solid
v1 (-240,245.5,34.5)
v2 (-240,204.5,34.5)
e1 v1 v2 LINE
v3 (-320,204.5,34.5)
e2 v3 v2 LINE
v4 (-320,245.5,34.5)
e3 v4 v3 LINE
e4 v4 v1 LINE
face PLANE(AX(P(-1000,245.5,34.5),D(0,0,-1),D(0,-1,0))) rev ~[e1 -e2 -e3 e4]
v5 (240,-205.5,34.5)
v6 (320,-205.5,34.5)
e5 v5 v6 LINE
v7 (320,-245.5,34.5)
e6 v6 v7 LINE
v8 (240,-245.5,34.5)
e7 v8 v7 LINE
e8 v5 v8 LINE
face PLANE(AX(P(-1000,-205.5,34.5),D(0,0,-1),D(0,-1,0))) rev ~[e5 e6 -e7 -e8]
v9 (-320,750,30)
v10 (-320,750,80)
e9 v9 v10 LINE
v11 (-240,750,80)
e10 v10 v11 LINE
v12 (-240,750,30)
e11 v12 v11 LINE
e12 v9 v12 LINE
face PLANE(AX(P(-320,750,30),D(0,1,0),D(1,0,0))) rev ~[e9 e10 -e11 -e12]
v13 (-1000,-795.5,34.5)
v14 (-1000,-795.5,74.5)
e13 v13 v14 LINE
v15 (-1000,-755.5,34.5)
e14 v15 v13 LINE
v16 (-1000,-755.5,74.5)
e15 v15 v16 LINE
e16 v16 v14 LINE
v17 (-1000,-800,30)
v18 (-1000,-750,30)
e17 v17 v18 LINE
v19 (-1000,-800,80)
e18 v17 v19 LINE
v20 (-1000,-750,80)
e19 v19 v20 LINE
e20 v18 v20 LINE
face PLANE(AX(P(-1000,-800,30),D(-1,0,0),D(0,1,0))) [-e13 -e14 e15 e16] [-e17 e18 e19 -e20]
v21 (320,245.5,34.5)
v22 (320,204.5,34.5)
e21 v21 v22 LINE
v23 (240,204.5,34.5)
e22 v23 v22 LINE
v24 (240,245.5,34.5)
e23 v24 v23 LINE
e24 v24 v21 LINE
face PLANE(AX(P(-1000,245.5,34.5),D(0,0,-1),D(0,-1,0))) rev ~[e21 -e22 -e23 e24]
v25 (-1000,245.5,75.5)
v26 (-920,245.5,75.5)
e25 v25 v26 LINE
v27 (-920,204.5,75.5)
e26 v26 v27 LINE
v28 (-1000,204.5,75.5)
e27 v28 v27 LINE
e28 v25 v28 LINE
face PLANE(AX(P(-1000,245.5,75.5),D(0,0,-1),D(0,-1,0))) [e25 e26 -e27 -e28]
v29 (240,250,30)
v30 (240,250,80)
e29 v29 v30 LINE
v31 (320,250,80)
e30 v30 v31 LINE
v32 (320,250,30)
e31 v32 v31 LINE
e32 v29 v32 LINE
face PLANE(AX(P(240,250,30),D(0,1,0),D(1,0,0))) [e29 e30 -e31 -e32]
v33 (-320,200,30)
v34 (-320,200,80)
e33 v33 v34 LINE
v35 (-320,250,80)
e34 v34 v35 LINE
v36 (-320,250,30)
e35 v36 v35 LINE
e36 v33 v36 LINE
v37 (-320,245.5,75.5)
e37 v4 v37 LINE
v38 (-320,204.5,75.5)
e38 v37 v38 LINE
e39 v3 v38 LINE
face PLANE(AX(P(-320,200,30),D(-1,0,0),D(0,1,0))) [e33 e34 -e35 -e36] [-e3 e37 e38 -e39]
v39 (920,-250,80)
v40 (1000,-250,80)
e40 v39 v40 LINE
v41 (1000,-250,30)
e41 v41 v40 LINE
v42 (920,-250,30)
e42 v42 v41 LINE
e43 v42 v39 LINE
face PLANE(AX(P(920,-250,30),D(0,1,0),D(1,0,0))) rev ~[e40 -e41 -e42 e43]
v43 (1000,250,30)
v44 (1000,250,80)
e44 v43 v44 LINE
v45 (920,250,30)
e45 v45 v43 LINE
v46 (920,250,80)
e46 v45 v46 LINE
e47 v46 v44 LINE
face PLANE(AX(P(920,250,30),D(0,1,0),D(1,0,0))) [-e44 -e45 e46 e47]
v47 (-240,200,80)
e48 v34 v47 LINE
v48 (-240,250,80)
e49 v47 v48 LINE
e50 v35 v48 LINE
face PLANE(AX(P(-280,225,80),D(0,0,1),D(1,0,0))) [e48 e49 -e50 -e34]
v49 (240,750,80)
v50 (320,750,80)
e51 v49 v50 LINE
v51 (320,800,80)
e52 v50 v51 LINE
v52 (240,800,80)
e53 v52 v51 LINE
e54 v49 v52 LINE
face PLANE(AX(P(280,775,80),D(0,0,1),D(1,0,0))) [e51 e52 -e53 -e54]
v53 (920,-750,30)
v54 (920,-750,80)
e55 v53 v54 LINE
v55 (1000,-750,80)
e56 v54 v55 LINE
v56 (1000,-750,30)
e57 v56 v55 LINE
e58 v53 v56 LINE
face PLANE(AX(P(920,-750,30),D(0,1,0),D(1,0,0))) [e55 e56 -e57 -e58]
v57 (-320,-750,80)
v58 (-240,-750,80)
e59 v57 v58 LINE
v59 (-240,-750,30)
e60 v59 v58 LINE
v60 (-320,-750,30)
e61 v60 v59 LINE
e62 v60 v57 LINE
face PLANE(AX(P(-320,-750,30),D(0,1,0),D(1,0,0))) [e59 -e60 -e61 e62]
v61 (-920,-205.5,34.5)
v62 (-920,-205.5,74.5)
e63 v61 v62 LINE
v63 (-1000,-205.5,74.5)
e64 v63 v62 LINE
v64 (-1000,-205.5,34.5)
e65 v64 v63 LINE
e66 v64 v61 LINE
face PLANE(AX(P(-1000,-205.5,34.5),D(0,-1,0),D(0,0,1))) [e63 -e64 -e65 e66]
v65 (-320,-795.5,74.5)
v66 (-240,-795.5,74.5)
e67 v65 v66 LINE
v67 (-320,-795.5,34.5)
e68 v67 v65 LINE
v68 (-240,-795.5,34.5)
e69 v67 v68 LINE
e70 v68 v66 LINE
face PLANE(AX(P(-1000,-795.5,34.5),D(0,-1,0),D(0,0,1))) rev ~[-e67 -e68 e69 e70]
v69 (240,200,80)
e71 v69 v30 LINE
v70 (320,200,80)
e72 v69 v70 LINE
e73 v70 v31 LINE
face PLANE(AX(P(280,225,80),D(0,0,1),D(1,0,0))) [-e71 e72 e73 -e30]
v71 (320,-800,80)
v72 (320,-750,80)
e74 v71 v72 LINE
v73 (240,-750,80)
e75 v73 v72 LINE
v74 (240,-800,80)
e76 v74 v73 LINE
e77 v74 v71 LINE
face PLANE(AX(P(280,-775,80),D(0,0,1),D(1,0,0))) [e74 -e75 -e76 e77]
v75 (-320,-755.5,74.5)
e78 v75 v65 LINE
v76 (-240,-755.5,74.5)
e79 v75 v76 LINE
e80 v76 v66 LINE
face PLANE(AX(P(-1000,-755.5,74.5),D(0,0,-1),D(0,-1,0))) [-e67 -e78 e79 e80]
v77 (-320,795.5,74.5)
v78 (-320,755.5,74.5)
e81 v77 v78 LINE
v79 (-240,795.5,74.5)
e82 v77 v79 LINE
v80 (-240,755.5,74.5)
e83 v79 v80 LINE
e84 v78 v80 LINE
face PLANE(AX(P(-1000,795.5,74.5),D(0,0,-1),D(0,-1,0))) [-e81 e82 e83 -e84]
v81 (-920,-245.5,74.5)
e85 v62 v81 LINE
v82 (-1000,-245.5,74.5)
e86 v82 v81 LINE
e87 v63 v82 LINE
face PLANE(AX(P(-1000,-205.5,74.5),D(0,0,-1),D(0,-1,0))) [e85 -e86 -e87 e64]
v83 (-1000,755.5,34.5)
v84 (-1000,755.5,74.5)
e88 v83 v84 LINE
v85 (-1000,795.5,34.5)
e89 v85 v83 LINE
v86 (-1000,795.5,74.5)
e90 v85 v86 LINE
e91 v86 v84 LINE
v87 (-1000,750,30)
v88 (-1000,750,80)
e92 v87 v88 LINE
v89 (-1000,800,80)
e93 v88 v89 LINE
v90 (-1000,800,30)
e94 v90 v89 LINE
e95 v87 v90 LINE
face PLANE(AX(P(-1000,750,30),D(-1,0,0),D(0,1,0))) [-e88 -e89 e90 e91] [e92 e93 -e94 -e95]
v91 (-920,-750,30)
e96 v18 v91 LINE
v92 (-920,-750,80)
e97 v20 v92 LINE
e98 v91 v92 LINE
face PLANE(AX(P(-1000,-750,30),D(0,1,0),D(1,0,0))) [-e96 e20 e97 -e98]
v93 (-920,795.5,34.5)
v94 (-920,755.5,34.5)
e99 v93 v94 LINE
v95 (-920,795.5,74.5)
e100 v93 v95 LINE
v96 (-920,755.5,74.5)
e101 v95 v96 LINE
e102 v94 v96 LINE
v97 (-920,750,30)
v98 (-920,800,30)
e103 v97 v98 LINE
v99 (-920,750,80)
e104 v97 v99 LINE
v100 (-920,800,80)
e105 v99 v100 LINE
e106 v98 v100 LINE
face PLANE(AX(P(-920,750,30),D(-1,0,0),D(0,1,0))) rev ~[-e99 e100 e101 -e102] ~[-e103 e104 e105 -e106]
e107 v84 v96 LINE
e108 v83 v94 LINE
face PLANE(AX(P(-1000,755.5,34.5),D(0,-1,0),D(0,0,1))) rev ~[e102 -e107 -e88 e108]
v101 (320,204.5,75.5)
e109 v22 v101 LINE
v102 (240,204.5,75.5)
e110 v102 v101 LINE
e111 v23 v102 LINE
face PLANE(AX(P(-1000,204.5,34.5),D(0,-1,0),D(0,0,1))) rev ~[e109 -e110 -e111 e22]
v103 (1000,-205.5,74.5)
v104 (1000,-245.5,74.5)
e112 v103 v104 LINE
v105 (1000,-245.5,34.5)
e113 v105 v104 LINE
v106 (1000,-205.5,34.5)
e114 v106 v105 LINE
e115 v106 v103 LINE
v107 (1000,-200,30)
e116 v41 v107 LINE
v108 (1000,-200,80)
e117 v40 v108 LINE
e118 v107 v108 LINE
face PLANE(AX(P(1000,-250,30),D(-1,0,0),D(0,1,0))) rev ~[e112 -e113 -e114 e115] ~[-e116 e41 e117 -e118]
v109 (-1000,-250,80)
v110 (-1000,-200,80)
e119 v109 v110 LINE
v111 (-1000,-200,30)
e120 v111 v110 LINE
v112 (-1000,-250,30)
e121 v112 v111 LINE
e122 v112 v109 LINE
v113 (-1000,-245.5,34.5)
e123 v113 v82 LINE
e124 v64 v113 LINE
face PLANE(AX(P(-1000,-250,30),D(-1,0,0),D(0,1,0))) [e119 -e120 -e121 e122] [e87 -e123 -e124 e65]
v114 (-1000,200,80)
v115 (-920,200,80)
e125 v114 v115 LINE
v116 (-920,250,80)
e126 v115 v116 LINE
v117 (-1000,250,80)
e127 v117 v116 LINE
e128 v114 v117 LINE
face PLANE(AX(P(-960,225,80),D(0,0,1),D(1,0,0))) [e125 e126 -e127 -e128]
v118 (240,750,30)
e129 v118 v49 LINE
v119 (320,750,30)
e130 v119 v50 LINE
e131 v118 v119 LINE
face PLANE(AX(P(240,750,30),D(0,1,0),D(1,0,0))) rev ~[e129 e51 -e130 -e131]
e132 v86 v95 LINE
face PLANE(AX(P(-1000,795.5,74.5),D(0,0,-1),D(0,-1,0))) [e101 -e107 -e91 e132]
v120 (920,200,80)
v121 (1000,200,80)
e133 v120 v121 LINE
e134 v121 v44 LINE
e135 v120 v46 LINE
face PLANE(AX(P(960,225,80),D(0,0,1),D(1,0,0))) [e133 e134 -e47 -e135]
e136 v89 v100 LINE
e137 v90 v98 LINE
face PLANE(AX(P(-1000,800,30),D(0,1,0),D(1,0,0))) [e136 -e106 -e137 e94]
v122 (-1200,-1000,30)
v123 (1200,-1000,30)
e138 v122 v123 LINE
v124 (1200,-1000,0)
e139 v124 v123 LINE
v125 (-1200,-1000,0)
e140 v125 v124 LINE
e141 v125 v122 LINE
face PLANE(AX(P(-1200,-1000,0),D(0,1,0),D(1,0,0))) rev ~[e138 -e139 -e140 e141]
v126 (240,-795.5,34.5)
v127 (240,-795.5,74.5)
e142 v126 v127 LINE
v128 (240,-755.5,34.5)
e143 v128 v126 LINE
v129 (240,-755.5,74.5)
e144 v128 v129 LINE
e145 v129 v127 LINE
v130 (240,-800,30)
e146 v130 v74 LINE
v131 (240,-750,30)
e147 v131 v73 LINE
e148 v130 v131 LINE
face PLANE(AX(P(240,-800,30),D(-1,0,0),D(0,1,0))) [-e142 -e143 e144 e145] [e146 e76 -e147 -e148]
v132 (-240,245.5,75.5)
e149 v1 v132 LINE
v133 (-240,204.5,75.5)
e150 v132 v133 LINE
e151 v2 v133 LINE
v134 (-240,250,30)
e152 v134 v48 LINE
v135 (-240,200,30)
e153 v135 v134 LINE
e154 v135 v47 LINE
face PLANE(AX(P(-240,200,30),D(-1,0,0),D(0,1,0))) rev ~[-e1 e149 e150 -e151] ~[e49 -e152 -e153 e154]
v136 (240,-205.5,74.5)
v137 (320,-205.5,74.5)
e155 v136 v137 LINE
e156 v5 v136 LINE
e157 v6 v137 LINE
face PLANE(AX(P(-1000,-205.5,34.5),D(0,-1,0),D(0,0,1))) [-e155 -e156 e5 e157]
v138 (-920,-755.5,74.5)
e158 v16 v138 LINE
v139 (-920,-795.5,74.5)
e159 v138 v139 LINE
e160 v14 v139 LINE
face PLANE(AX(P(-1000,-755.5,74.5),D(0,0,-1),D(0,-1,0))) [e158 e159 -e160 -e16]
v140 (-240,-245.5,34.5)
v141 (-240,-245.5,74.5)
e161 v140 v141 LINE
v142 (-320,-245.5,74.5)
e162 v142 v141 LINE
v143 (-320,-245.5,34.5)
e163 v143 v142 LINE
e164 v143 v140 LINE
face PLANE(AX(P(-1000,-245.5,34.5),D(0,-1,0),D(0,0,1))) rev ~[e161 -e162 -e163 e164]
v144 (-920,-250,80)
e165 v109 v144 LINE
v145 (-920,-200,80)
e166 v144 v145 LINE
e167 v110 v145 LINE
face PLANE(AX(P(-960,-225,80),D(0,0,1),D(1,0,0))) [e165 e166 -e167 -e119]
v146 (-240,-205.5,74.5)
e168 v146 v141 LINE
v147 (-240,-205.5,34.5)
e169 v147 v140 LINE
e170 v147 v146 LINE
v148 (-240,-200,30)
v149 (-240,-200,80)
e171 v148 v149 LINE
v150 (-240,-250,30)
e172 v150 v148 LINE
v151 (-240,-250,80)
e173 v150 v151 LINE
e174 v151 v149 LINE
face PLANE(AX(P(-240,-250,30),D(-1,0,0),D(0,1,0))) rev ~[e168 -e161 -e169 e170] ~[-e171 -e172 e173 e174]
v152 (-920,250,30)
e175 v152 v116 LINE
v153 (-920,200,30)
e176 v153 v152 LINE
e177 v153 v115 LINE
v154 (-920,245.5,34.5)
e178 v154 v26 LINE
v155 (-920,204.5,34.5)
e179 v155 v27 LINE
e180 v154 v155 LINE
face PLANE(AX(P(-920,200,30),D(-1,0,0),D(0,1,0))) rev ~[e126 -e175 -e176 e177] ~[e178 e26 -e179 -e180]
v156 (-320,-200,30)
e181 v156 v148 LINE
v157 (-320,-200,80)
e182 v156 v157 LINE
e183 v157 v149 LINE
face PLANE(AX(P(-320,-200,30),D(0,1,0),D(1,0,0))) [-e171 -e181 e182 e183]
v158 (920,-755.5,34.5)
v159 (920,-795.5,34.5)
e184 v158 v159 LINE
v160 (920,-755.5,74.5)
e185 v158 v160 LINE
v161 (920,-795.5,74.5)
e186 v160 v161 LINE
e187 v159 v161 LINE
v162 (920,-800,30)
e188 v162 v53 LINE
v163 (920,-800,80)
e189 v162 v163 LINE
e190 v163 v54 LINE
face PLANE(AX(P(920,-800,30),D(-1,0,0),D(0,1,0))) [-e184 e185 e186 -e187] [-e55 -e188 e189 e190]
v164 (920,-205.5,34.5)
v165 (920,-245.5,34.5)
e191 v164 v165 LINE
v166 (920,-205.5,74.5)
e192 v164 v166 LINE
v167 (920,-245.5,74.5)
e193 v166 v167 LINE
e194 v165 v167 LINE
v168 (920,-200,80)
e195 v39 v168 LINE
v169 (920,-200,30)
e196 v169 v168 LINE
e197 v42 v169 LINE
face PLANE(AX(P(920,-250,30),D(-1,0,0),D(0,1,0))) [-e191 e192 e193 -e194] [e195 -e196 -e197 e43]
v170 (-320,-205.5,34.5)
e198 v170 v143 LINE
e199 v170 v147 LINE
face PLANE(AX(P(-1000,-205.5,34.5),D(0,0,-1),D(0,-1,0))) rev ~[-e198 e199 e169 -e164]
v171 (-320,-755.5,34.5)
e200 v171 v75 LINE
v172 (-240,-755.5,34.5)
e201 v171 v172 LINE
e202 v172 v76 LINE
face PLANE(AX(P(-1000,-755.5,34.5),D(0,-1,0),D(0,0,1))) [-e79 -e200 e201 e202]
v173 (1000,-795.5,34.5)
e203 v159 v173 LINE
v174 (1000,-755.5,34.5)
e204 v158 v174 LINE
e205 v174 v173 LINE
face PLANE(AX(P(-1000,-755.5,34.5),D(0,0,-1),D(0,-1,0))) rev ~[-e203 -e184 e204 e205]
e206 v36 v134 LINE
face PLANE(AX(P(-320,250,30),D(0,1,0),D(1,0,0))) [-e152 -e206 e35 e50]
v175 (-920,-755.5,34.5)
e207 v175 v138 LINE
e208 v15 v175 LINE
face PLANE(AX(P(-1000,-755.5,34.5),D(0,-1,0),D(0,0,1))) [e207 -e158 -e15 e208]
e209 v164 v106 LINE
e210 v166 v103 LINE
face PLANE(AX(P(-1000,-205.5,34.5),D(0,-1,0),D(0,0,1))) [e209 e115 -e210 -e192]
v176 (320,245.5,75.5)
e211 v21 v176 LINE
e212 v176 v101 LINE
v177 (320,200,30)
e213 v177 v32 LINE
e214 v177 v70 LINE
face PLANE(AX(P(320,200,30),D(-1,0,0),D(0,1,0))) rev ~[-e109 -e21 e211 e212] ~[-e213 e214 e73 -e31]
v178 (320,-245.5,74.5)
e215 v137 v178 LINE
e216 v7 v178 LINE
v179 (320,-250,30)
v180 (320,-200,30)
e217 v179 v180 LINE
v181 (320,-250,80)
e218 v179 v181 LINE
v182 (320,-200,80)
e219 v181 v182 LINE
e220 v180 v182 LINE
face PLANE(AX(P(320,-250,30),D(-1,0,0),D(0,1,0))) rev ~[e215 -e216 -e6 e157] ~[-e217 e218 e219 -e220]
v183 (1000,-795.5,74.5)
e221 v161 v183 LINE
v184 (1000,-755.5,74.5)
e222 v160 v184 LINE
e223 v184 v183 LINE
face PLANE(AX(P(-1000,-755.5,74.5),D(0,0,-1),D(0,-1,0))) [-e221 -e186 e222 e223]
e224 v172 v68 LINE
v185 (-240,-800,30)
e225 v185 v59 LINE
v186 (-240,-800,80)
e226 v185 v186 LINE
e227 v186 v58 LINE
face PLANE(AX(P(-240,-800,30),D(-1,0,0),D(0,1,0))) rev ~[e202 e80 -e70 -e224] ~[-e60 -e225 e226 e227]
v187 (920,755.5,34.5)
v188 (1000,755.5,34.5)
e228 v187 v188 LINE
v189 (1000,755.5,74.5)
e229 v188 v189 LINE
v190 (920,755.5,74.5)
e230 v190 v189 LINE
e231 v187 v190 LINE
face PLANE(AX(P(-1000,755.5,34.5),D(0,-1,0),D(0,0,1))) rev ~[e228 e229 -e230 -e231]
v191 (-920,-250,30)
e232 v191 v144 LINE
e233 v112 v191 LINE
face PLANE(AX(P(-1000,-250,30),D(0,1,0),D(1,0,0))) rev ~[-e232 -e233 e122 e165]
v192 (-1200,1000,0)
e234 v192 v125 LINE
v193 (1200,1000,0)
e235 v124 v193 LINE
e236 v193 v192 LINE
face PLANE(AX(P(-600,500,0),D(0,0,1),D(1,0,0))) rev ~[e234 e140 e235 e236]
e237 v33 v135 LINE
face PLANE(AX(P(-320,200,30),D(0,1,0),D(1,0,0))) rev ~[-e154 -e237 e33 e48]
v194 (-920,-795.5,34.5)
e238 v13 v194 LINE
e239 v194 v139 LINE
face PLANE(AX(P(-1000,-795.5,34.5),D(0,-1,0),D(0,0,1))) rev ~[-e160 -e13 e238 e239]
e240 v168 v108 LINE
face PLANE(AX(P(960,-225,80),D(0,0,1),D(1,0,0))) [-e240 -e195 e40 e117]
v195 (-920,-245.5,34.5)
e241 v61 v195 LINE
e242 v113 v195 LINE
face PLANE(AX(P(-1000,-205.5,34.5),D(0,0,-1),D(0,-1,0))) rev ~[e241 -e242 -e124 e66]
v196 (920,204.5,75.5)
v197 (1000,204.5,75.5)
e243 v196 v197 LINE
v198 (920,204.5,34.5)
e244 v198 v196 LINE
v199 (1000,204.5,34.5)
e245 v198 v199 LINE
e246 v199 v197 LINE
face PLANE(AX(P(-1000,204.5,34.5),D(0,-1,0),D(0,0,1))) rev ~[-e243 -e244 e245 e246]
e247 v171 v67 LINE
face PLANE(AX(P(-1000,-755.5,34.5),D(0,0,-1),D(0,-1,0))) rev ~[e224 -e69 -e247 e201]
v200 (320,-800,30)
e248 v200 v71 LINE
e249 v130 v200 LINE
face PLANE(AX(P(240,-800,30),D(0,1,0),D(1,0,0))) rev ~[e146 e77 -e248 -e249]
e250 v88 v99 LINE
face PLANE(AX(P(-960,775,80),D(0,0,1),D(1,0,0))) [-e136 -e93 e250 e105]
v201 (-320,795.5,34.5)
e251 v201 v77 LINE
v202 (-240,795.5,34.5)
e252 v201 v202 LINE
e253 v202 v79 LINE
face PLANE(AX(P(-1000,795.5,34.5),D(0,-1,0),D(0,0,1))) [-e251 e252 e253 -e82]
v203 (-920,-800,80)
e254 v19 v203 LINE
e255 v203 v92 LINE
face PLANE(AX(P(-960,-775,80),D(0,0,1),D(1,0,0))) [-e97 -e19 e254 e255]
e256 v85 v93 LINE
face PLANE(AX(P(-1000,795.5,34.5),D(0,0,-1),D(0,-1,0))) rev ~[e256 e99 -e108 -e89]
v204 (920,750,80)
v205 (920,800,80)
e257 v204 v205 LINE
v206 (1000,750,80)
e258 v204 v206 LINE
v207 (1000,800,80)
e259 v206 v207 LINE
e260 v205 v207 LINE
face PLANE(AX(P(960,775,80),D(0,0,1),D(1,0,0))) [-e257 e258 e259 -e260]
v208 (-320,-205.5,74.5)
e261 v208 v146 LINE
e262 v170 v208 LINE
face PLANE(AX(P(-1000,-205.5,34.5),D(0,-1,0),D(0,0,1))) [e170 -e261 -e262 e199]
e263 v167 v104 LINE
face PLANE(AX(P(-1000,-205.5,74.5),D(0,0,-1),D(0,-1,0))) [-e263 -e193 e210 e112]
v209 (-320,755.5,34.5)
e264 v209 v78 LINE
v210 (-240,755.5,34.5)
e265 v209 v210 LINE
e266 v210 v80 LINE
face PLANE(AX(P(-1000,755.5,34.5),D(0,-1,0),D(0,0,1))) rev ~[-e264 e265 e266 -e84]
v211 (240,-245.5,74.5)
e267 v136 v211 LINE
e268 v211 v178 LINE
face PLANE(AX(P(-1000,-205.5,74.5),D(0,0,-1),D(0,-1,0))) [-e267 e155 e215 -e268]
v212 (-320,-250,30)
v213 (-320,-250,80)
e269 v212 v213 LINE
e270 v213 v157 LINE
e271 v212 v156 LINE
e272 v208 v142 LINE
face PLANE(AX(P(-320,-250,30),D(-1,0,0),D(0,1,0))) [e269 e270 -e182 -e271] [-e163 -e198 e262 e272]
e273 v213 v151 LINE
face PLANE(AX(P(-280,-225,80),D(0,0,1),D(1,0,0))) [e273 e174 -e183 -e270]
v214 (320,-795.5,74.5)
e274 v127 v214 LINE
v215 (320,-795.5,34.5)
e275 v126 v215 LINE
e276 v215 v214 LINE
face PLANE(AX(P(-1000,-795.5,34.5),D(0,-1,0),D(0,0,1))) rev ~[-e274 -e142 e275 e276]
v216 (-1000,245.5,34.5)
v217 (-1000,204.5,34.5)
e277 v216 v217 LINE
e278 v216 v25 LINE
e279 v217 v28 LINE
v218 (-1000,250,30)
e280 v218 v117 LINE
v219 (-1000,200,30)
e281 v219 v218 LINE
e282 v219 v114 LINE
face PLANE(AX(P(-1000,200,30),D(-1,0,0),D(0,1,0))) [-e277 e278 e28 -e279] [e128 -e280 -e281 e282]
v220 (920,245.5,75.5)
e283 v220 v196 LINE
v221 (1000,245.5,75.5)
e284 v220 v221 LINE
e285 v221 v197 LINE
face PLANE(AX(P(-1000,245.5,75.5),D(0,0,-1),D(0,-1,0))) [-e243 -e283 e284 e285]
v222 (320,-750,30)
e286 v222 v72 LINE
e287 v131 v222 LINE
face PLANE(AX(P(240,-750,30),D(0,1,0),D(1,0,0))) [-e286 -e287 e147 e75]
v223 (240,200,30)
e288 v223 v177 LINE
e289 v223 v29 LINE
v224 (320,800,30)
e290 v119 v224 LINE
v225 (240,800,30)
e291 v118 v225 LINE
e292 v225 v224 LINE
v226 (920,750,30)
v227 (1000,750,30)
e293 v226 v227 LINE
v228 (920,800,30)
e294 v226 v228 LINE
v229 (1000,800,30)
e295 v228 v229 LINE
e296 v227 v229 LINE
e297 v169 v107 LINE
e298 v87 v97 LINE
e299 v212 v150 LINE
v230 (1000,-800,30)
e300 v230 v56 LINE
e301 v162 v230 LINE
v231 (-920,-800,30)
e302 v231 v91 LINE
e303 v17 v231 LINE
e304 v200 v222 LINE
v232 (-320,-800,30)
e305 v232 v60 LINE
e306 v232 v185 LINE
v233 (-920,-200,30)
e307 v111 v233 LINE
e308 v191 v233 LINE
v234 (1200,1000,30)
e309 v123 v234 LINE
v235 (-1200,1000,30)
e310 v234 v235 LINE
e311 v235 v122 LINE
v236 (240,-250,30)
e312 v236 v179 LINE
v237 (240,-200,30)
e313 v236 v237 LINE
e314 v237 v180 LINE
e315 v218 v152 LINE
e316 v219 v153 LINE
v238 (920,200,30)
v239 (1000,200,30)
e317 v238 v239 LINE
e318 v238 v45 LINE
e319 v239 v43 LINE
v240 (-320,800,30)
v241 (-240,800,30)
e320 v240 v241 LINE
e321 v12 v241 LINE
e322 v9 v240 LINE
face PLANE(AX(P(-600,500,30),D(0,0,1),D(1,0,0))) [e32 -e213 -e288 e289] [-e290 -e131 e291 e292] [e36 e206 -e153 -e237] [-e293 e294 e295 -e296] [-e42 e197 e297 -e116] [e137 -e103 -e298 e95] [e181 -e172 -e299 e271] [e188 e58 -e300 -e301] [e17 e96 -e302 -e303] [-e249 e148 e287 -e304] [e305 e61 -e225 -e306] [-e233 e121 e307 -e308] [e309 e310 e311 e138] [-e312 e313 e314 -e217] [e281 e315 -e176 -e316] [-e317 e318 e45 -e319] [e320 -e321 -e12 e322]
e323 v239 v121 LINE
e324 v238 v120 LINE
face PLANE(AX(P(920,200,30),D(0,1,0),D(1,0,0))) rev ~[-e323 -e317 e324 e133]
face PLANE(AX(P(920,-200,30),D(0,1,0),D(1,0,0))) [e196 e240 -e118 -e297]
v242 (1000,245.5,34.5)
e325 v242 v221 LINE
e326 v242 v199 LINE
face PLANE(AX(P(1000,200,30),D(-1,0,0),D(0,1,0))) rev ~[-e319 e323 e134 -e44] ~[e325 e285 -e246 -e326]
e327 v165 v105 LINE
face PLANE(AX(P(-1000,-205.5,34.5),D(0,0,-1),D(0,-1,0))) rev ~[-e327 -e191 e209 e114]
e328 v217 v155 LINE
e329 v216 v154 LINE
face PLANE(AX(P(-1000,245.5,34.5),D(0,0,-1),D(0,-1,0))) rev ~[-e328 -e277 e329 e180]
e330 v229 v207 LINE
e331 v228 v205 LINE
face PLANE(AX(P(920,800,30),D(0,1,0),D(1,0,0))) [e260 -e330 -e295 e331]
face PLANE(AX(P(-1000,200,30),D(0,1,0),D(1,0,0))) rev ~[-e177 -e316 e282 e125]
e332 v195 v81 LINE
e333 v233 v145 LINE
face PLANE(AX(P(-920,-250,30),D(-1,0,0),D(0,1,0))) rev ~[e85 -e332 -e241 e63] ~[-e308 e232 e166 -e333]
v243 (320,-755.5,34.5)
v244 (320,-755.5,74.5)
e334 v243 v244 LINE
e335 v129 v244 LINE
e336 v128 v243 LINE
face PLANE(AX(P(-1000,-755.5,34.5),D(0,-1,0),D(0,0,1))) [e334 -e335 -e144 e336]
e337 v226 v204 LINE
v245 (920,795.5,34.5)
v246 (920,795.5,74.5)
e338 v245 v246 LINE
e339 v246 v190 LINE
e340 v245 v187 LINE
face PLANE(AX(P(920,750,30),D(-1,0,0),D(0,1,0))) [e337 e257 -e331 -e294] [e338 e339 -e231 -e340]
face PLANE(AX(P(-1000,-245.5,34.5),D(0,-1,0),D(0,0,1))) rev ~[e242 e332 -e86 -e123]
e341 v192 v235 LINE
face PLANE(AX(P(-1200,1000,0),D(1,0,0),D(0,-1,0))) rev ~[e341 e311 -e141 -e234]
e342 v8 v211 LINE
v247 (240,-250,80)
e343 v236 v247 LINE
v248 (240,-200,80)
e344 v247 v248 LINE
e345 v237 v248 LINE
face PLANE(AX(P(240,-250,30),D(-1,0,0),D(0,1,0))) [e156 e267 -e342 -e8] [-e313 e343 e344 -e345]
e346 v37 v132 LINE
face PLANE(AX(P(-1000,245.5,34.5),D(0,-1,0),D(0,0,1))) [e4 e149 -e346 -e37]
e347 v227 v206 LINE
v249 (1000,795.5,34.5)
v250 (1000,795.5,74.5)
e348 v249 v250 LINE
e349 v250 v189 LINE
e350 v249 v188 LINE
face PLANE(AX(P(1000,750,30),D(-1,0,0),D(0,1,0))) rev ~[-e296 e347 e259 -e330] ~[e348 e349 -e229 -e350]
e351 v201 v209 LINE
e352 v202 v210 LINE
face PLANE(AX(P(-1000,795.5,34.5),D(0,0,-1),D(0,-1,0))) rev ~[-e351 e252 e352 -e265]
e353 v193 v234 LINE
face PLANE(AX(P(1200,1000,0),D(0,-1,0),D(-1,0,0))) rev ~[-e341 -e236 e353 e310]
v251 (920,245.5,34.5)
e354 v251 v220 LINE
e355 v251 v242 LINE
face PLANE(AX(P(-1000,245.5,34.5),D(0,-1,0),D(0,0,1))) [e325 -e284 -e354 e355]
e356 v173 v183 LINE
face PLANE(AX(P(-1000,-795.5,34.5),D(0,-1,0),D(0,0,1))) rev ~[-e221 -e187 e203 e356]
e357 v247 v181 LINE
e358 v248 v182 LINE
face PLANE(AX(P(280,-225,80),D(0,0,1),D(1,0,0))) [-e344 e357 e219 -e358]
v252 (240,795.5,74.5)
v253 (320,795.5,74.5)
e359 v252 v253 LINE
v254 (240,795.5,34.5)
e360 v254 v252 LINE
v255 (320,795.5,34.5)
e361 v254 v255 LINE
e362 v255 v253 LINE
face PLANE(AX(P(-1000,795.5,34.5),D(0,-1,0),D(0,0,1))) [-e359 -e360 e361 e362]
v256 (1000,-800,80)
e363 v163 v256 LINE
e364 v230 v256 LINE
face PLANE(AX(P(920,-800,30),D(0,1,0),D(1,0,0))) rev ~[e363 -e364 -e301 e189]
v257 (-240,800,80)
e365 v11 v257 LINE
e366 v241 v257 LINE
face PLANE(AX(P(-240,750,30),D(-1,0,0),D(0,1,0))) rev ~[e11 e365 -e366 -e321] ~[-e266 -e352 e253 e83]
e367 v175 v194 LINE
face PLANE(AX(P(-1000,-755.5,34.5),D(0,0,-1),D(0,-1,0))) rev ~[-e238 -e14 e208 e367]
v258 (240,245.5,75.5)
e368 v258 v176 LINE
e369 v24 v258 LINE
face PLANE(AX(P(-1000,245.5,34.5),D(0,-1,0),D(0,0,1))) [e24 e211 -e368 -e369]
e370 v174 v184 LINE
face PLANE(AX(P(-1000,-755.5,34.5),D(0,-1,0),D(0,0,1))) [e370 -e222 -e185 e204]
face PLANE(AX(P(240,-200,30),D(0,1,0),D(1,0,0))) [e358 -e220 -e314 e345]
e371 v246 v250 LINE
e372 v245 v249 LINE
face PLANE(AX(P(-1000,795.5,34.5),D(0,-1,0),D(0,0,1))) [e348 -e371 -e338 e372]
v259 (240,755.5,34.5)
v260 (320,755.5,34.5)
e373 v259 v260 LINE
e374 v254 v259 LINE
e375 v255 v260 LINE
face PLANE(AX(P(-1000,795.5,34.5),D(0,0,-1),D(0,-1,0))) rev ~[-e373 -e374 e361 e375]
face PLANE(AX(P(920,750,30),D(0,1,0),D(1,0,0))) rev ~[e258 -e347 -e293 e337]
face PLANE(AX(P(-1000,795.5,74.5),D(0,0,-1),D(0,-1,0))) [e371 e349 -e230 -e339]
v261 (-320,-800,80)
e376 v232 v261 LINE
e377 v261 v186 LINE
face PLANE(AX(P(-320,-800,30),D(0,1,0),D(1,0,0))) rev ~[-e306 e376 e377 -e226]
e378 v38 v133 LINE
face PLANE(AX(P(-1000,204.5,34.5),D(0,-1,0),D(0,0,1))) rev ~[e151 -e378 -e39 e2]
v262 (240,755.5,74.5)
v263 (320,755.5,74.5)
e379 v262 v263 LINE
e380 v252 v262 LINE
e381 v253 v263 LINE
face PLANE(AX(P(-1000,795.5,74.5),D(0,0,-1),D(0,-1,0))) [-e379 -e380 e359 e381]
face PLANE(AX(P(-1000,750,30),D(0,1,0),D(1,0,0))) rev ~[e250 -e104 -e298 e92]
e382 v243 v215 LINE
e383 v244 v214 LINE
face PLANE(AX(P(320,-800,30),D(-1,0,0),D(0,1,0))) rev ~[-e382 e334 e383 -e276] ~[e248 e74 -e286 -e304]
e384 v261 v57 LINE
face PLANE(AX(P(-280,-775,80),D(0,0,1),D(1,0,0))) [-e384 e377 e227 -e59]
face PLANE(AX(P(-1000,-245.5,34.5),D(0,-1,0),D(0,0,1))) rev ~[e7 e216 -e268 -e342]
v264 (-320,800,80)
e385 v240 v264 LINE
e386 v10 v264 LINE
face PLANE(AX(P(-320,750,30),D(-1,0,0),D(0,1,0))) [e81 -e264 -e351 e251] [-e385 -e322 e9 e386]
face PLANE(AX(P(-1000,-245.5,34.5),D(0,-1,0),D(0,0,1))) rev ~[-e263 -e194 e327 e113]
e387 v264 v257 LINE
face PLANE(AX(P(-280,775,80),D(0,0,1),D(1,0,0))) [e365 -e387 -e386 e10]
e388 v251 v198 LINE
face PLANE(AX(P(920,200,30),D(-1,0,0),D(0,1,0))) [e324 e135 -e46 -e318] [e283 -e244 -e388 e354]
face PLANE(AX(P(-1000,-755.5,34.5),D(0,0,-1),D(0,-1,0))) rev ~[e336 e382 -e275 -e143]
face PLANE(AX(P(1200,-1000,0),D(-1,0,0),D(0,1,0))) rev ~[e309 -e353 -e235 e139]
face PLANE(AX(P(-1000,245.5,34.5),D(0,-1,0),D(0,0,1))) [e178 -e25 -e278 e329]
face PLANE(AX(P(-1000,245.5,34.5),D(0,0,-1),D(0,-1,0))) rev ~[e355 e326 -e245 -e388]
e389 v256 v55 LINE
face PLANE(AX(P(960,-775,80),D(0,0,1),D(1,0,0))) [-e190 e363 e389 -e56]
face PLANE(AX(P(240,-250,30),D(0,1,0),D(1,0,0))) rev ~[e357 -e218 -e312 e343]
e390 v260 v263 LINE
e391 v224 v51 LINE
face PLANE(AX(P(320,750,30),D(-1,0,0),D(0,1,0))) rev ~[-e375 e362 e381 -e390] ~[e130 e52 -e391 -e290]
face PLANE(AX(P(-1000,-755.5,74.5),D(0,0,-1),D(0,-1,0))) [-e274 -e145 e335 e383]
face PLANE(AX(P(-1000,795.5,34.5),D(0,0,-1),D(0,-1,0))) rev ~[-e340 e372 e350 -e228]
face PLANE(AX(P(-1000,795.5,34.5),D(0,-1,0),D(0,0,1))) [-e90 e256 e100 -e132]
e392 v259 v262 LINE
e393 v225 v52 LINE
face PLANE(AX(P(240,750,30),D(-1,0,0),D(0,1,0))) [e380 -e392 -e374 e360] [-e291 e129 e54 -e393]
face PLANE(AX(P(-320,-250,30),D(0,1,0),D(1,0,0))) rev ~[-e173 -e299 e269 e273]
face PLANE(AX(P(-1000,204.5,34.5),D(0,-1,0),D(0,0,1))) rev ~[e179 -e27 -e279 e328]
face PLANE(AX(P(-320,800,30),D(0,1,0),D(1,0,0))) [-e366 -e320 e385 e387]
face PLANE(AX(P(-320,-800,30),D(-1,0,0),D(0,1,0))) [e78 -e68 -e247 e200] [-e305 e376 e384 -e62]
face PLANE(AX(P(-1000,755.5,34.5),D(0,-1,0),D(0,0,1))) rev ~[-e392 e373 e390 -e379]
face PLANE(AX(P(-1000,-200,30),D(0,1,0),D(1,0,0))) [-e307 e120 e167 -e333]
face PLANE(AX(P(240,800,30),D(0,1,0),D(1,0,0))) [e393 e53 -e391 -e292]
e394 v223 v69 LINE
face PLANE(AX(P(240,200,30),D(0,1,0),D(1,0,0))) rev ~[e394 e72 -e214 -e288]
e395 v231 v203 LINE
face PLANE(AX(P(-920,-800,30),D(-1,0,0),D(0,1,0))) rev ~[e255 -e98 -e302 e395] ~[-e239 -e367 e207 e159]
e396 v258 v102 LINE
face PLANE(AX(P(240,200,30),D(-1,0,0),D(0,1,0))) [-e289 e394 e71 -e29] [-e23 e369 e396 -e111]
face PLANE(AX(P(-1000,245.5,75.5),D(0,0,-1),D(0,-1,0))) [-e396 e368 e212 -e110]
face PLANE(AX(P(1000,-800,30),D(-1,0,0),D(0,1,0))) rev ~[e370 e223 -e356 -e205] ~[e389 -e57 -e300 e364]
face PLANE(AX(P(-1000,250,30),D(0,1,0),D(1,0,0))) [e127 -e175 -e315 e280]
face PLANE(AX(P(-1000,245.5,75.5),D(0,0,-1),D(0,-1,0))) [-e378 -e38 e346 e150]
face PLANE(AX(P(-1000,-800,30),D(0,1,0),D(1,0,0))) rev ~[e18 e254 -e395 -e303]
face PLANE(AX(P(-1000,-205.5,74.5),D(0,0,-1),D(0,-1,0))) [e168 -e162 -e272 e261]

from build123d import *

# Parameters (mm, degrees)
F0_W     = 1200
F0_H     = 1000
F1_DEPTH = 30
F2_W     = 80
F2_H     = 50
F3_DEPTH = 50
F4_W     = 41
F4_H     = 41
F4_W_2   = 40
F4_H_2   = 40
F5_DEPTH = 2200


with BuildPart() as f1:
    # F0 (on Top) → F1 (new body)
    with BuildSketch(Plane.XY):
        with Locations((-600, 500)):
            Rectangle(F0_W, F0_H)
        with Locations((600, 500)):
            Rectangle(F0_W, F0_H)
        with Locations((600, -500)):
            Rectangle(F0_W, F0_H)
        with Locations((-600, -500)):
            Rectangle(F0_W, F0_H)
    extrude(amount=F1_DEPTH)

    # F2 (on face) → F3 (join)
    with BuildSketch(Plane.XY.offset(30)):
        with Locations((-960, 775)):
            Rectangle(F2_W, F2_H)
        with Locations((-280, 775)):
            Rectangle(F2_W, F2_H)
        with Locations((280, 775)):
            Rectangle(F2_W, F2_H)
        with Locations((960, 775)):
            Rectangle(F2_W, F2_H)
        with Locations((-960, -775)):
            Rectangle(F2_W, F2_H)
        with Locations((-280, -775)):
            Rectangle(F2_W, F2_H)
        with Locations((280, -775)):
            Rectangle(F2_W, F2_H)
        with Locations((960, -775)):
            Rectangle(F2_W, F2_H)
        with Locations((-960, 225)):
            Rectangle(F2_W, F2_H)
        with Locations((-280, 225)):
            Rectangle(F2_W, F2_H)
        with Locations((280, 225)):
            Rectangle(F2_W, F2_H)
        with Locations((960, 225)):
            Rectangle(F2_W, F2_H)
        with Locations((-960, -225)):
            Rectangle(F2_W, F2_H)
        with Locations((-280, -225)):
            Rectangle(F2_W, F2_H)
        with Locations((280, -225)):
            Rectangle(F2_W, F2_H)
        with Locations((960, -225)):
            Rectangle(F2_W, F2_H)
    extrude(amount=F3_DEPTH)

    # F4 (on face) → F5 (cut)
    with BuildSketch(Plane(origin=(-1000, 0, 0), x_dir=(0, -1, 0), z_dir=(-1, 0, 0))):
        with Locations((-225, 55)):
            Rectangle(F4_W, F4_H)
        with Locations((-775.5, 54.5)):
            Rectangle(F4_W_2, F4_H_2)
        with Locations((225.5, 54.5)):
            Rectangle(F4_W_2, F4_H_2)
        with Locations((775.5, 54.5)):
            Rectangle(F4_W_2, F4_H_2)
    extrude(amount=-F5_DEPTH, mode=Mode.SUBTRACT)


solid = f1.part
